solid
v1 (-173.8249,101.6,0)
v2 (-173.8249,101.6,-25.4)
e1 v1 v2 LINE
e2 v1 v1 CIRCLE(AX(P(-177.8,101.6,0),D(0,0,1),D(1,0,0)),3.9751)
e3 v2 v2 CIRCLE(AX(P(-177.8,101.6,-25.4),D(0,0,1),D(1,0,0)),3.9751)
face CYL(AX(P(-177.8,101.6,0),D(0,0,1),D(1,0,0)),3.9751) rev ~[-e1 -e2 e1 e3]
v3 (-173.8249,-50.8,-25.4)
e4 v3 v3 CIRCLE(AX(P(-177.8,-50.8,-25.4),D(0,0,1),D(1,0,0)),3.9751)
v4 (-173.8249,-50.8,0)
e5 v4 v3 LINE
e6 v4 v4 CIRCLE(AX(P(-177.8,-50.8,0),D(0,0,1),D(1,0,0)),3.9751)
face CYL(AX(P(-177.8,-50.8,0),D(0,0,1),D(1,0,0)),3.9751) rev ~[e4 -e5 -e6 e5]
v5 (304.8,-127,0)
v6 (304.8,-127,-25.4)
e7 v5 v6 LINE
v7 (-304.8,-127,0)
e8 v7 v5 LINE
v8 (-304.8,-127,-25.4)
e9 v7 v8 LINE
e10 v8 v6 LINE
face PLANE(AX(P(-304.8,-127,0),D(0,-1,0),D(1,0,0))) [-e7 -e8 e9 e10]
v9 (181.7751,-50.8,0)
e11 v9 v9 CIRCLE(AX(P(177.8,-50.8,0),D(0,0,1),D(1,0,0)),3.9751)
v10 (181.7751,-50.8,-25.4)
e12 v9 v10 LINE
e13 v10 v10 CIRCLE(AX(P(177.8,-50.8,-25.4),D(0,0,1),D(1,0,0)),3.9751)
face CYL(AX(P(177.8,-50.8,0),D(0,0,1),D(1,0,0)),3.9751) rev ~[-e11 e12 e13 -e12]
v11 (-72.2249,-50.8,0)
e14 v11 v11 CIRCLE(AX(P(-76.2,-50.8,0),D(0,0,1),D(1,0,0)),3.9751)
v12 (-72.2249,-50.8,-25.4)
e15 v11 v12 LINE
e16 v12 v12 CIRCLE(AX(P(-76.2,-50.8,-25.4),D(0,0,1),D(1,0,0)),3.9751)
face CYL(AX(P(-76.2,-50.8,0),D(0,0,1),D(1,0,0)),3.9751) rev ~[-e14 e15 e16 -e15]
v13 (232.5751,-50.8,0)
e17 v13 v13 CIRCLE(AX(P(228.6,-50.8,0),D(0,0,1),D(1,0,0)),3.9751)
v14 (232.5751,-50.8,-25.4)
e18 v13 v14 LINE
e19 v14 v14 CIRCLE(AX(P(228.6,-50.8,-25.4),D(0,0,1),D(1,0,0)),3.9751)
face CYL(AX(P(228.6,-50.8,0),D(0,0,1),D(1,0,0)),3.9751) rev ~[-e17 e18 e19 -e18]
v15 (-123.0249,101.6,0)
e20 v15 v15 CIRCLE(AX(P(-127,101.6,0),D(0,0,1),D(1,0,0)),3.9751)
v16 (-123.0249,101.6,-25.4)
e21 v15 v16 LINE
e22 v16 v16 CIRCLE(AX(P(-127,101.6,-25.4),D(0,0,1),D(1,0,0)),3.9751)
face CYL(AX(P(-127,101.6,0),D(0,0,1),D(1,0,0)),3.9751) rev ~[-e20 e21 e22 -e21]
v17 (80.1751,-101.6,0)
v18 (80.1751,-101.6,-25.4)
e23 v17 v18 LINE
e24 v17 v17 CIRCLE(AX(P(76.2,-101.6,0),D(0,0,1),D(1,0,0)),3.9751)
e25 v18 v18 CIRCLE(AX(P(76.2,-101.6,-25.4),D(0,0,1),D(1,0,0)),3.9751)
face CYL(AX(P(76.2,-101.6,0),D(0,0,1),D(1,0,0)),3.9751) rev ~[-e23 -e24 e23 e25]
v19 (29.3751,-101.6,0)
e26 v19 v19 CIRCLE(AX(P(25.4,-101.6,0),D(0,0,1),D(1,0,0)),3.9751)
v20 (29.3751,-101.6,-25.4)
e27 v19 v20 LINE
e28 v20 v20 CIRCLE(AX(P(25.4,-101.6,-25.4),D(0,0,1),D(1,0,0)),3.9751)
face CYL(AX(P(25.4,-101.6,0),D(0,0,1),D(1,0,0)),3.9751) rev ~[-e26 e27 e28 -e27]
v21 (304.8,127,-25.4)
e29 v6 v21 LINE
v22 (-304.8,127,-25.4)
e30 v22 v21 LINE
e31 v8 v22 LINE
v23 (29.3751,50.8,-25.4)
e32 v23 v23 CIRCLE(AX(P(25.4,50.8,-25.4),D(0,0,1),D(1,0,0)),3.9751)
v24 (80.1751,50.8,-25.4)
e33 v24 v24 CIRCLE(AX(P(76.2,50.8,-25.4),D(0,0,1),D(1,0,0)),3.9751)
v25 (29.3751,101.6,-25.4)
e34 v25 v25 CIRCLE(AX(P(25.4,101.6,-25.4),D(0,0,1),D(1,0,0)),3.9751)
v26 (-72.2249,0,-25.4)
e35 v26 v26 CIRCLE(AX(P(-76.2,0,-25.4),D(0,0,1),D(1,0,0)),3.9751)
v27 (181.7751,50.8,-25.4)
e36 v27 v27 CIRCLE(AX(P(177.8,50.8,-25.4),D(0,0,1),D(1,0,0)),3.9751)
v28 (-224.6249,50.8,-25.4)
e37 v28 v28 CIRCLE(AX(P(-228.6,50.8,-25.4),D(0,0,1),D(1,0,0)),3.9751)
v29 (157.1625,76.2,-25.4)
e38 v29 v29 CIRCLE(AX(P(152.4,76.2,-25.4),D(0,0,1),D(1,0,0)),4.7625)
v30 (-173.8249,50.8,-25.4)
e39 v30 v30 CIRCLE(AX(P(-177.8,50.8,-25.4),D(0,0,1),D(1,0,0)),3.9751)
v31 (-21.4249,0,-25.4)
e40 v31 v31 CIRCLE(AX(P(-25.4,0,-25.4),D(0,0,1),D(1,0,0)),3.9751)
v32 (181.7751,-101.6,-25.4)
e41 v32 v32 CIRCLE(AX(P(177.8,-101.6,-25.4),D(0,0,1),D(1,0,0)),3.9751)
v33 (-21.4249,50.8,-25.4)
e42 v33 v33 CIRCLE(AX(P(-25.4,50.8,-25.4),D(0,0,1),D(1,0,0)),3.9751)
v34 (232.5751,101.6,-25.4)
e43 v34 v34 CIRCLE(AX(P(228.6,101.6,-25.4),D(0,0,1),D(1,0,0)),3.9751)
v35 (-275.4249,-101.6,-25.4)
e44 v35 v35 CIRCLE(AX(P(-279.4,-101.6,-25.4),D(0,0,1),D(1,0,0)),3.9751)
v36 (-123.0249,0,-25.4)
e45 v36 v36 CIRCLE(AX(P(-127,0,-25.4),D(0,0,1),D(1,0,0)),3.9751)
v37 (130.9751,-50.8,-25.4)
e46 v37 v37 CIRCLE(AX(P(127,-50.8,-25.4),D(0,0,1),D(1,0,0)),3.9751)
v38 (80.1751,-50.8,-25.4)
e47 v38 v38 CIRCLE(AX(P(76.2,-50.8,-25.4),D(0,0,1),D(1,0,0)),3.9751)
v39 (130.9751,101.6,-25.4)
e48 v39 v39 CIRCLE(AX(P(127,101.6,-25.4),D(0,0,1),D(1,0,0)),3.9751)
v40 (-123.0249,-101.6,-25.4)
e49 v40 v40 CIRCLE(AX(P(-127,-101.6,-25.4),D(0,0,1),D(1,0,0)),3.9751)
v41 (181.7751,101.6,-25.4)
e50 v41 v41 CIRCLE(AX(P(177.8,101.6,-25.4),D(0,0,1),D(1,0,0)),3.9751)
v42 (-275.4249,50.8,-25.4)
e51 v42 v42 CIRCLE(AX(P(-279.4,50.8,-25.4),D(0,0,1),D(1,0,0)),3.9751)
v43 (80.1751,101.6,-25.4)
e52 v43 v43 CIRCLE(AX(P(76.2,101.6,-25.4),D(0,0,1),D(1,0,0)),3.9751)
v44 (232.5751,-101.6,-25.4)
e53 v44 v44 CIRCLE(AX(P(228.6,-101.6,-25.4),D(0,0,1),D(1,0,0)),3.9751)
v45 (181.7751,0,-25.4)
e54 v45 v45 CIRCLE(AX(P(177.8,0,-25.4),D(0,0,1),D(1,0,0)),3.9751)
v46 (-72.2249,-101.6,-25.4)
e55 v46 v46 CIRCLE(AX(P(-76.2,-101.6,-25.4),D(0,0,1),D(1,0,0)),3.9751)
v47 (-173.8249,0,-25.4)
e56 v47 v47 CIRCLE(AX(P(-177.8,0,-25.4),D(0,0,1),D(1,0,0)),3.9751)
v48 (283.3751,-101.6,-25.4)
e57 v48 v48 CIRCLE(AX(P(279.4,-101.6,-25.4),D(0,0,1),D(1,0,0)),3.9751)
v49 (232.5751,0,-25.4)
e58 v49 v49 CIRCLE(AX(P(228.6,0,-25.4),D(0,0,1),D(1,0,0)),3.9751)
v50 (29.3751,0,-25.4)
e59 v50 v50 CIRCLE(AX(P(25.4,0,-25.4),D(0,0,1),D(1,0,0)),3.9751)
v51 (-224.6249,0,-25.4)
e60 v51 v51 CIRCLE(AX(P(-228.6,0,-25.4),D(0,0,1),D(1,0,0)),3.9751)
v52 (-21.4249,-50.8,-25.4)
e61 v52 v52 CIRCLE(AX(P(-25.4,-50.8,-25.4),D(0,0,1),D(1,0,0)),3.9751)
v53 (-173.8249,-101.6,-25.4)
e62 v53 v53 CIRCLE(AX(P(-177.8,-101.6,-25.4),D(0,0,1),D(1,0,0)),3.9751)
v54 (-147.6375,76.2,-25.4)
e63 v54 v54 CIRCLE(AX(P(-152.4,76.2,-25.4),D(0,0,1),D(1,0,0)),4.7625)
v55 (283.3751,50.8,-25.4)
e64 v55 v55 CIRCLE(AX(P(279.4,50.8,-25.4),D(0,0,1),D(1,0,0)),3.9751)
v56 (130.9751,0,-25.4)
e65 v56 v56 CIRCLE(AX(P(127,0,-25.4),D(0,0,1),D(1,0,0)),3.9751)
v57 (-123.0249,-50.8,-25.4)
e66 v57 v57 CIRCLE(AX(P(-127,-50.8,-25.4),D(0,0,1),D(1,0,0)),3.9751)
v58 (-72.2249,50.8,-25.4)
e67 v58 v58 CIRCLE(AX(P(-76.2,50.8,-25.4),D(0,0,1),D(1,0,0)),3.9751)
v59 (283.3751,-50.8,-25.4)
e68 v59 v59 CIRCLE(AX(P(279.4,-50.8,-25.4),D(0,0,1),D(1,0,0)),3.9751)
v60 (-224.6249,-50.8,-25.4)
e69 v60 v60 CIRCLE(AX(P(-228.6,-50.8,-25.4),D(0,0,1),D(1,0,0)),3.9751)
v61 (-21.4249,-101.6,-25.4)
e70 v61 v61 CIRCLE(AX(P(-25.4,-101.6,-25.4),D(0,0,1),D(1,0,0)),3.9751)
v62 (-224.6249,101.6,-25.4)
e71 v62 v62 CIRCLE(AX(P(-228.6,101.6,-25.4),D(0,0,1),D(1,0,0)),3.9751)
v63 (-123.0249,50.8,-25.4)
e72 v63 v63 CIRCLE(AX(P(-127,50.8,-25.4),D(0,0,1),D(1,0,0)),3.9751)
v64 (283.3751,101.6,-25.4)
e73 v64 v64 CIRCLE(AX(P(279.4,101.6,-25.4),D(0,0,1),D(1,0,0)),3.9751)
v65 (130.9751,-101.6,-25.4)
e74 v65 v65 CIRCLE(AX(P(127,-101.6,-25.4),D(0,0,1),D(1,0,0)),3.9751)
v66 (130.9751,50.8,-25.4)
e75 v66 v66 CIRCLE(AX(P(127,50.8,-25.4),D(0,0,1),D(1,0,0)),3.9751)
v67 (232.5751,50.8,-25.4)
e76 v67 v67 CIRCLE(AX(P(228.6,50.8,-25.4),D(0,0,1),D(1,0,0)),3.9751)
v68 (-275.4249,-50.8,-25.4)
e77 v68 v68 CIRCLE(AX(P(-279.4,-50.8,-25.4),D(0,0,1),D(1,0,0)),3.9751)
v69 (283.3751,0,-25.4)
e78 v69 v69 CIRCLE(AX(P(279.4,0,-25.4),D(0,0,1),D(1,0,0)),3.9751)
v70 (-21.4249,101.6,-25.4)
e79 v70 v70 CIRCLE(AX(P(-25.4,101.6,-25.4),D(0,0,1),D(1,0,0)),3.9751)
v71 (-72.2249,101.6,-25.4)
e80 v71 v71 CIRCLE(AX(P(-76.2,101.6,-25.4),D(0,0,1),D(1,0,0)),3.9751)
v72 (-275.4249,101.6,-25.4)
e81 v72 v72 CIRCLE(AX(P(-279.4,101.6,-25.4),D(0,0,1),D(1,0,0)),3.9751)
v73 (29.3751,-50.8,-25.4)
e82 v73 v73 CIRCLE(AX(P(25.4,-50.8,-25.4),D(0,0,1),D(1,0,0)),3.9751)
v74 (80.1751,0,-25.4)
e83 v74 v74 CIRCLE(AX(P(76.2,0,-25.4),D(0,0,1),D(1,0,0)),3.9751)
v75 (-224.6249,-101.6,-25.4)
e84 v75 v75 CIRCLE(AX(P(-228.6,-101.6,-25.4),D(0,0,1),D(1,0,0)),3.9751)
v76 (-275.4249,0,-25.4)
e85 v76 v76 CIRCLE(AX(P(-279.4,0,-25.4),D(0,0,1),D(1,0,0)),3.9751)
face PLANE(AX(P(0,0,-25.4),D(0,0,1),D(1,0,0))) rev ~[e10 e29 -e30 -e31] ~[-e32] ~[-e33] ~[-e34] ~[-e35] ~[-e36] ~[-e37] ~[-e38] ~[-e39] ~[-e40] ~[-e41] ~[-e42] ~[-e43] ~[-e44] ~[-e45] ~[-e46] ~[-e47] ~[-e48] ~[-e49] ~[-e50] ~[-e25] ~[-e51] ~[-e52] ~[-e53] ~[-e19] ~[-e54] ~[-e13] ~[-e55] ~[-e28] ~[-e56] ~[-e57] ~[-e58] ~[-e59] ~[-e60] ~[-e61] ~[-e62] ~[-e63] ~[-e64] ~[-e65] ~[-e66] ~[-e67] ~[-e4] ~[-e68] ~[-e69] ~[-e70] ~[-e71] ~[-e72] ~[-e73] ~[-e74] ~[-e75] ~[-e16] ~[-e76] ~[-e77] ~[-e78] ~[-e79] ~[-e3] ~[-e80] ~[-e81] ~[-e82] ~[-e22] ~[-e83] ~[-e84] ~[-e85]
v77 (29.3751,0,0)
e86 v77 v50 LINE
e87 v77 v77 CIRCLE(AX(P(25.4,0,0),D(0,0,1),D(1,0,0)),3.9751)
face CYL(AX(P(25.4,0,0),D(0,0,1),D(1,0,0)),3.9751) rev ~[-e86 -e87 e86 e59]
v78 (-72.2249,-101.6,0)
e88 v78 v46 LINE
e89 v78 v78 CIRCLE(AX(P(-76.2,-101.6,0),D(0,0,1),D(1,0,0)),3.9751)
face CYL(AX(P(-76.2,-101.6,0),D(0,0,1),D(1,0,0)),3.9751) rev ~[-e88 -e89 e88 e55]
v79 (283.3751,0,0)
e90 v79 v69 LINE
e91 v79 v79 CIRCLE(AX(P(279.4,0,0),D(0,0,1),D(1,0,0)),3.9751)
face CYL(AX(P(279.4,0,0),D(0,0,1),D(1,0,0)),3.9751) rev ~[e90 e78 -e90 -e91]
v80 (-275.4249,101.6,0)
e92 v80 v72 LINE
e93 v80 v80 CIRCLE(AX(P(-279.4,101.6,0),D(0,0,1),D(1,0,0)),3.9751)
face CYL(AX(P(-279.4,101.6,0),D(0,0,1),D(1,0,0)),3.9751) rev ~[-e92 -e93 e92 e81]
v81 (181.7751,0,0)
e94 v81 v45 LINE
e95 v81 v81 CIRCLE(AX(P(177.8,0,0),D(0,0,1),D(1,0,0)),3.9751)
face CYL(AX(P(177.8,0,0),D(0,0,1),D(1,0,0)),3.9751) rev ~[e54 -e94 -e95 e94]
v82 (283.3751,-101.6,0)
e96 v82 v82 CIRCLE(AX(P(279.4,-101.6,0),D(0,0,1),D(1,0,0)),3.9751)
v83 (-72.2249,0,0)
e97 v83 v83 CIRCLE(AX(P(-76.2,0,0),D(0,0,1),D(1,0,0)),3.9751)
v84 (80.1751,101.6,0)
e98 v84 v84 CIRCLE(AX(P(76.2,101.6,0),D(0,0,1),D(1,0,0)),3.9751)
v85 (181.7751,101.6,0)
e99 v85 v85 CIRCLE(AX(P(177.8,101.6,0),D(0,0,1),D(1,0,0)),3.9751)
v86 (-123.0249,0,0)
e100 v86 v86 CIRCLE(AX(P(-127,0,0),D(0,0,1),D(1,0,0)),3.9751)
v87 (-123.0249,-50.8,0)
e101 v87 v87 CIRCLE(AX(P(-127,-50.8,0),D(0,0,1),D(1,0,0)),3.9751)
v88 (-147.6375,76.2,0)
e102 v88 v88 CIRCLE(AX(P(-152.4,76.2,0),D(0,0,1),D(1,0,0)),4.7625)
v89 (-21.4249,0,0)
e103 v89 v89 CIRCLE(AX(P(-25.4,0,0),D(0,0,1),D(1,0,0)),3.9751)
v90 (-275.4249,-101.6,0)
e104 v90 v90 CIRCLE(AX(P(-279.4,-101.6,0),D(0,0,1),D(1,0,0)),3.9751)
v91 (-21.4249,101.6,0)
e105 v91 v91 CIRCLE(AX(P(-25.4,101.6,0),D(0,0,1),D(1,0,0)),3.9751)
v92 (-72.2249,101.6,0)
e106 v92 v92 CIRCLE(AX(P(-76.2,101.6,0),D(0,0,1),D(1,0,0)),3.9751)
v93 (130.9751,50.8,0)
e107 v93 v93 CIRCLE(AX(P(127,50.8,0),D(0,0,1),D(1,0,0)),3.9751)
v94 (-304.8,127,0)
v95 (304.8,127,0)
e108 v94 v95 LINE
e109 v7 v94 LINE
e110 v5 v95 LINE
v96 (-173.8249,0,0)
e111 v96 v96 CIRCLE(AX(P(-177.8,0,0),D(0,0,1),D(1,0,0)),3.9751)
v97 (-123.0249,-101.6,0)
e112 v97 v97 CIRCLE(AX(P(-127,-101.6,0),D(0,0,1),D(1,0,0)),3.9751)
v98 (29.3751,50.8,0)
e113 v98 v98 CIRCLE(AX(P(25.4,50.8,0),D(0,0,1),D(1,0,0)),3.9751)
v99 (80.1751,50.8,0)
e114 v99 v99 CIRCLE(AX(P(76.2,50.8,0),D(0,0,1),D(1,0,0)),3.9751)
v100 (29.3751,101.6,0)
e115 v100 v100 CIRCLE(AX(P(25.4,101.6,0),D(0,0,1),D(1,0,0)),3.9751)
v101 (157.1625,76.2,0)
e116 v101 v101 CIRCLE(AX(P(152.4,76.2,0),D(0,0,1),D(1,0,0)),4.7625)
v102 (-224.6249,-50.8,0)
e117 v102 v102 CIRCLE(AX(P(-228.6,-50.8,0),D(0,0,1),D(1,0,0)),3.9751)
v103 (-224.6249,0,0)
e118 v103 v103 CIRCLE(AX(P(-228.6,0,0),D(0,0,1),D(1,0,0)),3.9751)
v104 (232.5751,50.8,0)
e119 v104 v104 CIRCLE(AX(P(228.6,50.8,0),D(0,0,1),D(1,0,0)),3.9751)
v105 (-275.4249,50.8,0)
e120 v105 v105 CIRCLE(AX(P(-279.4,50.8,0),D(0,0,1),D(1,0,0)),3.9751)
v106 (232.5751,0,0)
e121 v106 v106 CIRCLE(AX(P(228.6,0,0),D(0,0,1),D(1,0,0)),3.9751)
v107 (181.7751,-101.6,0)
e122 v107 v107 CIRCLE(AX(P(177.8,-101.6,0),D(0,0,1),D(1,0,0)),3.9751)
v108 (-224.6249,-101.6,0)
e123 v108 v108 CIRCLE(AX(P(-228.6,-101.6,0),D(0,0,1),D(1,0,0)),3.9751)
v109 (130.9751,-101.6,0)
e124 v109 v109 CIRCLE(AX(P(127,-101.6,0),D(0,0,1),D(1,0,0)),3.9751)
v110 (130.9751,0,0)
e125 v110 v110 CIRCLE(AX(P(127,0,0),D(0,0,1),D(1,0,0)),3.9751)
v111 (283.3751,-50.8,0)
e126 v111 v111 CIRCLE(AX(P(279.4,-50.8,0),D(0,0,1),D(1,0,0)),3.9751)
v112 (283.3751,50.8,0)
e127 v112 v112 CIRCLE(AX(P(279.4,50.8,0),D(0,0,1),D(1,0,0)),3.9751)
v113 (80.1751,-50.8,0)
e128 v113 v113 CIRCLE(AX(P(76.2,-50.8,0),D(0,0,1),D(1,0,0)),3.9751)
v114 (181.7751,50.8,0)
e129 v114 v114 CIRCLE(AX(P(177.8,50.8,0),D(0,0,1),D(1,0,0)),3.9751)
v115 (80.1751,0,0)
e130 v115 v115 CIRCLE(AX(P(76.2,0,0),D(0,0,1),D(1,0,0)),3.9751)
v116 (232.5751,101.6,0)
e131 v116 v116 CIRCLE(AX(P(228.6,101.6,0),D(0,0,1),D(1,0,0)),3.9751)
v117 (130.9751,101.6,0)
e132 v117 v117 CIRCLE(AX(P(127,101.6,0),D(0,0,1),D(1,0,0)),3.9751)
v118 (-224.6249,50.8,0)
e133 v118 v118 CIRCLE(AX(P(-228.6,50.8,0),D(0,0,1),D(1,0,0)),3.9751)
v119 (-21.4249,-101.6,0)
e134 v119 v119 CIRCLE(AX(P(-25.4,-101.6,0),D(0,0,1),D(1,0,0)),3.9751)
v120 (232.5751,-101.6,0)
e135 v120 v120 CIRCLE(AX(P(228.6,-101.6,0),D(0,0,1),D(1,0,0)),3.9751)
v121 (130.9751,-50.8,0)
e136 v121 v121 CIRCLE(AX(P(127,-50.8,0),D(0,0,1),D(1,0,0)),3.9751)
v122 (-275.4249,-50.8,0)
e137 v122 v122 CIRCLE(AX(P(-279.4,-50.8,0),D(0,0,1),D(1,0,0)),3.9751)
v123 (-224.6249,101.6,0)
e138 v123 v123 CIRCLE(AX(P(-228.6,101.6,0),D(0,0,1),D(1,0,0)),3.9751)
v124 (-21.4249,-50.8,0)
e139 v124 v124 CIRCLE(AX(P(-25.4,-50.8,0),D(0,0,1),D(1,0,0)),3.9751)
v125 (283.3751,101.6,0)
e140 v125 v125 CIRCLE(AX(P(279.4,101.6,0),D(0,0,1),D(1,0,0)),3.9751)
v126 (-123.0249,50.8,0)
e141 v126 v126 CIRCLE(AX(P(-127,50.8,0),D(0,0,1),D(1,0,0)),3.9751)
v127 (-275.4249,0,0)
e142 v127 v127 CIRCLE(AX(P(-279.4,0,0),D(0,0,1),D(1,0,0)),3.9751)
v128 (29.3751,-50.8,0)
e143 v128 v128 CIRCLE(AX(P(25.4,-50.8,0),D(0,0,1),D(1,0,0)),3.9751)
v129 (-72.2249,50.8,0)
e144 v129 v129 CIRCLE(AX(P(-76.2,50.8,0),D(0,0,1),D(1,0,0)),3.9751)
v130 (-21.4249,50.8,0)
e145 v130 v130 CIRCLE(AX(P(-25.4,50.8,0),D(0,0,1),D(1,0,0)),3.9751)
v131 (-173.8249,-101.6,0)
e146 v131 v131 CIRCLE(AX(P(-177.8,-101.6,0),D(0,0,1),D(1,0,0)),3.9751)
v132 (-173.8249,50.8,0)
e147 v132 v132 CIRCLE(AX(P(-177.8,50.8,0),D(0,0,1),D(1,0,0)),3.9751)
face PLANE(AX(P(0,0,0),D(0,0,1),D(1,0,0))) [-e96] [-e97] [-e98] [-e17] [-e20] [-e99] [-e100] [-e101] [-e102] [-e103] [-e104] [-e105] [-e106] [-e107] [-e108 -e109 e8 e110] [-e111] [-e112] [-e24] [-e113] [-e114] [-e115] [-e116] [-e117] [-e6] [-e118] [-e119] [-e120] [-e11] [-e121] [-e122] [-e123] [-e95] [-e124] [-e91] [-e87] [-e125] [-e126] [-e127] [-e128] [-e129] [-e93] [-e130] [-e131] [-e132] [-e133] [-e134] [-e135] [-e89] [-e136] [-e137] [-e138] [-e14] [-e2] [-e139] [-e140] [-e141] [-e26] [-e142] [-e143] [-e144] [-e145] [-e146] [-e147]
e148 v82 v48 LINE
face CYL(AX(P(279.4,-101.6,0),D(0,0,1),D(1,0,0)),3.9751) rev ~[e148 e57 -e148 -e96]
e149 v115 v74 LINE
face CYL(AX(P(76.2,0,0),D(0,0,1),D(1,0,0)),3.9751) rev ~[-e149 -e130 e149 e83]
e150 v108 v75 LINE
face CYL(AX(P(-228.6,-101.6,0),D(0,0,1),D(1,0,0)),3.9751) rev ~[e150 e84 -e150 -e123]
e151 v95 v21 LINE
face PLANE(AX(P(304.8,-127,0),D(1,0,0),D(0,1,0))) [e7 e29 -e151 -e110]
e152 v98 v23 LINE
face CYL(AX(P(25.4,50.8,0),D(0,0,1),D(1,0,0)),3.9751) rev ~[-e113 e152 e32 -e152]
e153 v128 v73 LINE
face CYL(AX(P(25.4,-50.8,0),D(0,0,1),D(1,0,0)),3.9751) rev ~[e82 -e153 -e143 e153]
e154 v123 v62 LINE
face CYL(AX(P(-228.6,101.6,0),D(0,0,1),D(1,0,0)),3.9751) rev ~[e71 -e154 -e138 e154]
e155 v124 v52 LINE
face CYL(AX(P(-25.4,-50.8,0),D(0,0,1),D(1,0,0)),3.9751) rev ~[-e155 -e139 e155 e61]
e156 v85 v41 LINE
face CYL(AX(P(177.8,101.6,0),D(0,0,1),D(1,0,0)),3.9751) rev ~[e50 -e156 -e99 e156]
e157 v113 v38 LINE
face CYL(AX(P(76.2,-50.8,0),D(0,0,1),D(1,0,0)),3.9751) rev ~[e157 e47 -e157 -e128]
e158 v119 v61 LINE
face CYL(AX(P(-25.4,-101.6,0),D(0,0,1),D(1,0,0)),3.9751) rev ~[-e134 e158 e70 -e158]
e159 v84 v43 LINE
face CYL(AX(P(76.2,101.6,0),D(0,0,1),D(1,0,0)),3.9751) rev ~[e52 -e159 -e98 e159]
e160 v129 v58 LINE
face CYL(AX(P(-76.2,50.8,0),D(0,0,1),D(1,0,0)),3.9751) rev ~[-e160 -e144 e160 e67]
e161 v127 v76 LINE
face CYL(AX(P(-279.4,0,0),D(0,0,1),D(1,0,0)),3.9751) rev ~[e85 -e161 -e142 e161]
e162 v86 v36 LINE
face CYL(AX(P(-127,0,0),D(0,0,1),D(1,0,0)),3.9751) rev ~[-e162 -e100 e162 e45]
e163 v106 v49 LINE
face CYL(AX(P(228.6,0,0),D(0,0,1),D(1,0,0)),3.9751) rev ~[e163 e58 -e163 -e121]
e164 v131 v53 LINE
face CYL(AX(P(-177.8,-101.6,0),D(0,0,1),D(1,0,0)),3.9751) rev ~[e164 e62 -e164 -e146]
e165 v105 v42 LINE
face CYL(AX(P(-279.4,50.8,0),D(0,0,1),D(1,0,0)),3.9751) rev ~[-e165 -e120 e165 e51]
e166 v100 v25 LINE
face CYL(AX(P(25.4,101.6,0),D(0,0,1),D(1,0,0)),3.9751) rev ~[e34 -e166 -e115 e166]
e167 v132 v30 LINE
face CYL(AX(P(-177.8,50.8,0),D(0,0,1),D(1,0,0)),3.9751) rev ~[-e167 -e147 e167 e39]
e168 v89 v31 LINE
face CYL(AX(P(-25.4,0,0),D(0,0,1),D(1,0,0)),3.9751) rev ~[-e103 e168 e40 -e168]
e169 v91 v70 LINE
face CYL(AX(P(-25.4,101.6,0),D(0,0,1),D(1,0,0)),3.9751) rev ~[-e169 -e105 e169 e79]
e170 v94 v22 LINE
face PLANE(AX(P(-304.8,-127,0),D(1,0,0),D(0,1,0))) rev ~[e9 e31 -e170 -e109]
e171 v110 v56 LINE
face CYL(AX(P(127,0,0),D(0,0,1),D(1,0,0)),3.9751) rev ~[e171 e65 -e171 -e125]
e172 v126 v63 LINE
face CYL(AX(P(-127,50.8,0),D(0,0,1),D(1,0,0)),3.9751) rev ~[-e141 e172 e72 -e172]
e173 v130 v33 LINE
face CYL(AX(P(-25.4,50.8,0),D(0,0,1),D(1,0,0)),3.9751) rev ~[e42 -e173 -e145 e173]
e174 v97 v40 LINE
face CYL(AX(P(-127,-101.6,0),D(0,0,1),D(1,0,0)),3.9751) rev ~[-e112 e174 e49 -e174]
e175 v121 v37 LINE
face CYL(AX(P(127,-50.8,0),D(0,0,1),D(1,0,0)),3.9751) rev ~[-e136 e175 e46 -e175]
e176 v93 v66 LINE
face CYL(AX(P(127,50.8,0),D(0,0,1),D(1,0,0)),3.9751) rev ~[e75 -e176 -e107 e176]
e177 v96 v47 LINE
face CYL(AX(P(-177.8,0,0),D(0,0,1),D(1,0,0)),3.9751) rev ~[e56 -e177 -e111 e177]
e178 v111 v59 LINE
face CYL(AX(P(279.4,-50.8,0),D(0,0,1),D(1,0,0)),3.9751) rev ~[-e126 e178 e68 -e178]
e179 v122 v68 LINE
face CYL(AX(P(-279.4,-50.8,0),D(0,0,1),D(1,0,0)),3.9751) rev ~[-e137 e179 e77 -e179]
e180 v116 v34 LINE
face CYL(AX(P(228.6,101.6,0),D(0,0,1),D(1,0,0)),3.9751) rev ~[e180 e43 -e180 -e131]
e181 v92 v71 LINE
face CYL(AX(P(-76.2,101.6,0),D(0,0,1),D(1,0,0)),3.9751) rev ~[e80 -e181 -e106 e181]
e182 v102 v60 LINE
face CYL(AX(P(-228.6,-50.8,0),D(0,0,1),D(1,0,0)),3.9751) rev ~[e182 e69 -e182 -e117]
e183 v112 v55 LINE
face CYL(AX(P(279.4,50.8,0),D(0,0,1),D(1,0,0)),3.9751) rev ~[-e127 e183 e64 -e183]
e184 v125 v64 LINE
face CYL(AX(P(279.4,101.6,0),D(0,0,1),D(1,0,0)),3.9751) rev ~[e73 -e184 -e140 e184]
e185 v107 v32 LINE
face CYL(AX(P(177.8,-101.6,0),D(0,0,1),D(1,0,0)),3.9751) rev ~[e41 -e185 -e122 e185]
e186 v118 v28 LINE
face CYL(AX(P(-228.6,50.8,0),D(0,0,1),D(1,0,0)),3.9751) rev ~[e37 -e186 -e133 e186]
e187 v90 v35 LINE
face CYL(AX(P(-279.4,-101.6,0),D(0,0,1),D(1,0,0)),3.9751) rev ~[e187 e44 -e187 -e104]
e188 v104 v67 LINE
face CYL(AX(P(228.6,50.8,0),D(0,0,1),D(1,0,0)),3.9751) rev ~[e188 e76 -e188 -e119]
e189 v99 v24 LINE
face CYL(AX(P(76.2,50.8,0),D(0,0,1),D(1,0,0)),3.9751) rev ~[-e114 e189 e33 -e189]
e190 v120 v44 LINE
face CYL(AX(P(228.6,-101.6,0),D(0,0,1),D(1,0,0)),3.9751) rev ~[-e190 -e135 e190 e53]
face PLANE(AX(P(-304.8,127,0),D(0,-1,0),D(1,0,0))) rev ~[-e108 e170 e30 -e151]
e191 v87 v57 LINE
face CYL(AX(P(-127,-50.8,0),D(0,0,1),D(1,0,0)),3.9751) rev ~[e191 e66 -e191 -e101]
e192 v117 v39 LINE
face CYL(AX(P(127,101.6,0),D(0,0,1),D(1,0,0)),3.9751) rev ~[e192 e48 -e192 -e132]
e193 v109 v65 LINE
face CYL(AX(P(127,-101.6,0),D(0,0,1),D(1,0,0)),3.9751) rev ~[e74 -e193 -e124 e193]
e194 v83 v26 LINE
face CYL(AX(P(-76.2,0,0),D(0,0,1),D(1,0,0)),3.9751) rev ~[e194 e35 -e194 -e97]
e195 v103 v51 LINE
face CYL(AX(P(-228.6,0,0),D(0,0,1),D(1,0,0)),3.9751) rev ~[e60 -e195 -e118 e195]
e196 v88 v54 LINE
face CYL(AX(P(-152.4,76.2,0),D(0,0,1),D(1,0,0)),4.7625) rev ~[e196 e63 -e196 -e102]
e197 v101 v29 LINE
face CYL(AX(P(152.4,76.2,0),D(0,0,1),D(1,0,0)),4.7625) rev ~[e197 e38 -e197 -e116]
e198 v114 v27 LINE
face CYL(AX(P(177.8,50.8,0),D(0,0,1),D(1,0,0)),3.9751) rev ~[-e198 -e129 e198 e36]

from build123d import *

# Parameters (mm, degrees)
F0_W     = 609.6
F0_H     = 254
F0_R     = 3.9751
F0_R_2   = 4.7625
F1_DEPTH = 25.4


with BuildPart() as f1:
    # F0 (on Top) → F1 (new body)
    with BuildSketch(Plane.XY):
        Rectangle(F0_W, F0_H)
        with Locations((-279.4, -101.6)):
            Circle(F0_R, mode=Mode.SUBTRACT)
        with Locations((-228.6, -101.6)):
            Circle(F0_R, mode=Mode.SUBTRACT)
        with Locations((-177.8, -101.6)):
            Circle(F0_R, mode=Mode.SUBTRACT)
        with Locations((-127, -101.6)):
            Circle(F0_R, mode=Mode.SUBTRACT)
        with Locations((-76.2, -101.6)):
            Circle(F0_R, mode=Mode.SUBTRACT)
        with Locations((-25.4, -101.6)):
            Circle(F0_R, mode=Mode.SUBTRACT)
        with Locations((-279.4, -50.8)):
            Circle(F0_R, mode=Mode.SUBTRACT)
        with Locations((-228.6, -50.8)):
            Circle(F0_R, mode=Mode.SUBTRACT)
        with Locations((-177.8, -50.8)):
            Circle(F0_R, mode=Mode.SUBTRACT)
        with Locations((-127, -50.8)):
            Circle(F0_R, mode=Mode.SUBTRACT)
        with Locations((-76.2, -50.8)):
            Circle(F0_R, mode=Mode.SUBTRACT)
        with Locations((-25.4, -50.8)):
            Circle(F0_R, mode=Mode.SUBTRACT)
        with Locations((25.4, -101.6)):
            Circle(F0_R, mode=Mode.SUBTRACT)
        with Locations((76.2, -101.6)):
            Circle(F0_R, mode=Mode.SUBTRACT)
        with Locations((127, -101.6)):
            Circle(F0_R, mode=Mode.SUBTRACT)
        with Locations((177.8, -101.6)):
            Circle(F0_R, mode=Mode.SUBTRACT)
        with Locations((228.6, -101.6)):
            Circle(F0_R, mode=Mode.SUBTRACT)
        with Locations((279.4, -101.6)):
            Circle(F0_R, mode=Mode.SUBTRACT)
        with Locations((25.4, -50.8)):
            Circle(F0_R, mode=Mode.SUBTRACT)
        with Locations((76.2, -50.8)):
            Circle(F0_R, mode=Mode.SUBTRACT)
        with Locations((127, -50.8)):
            Circle(F0_R, mode=Mode.SUBTRACT)
        with Locations((177.8, -50.8)):
            Circle(F0_R, mode=Mode.SUBTRACT)
        with Locations((228.6, -50.8)):
            Circle(F0_R, mode=Mode.SUBTRACT)
        with Locations((279.4, -50.8)):
            Circle(F0_R, mode=Mode.SUBTRACT)
        with Locations((-279.4, 0)):
            Circle(F0_R, mode=Mode.SUBTRACT)
        with Locations((-228.6, 0)):
            Circle(F0_R, mode=Mode.SUBTRACT)
        with Locations((-177.8, 0)):
            Circle(F0_R, mode=Mode.SUBTRACT)
        with Locations((-279.4, 50.8)):
            Circle(F0_R, mode=Mode.SUBTRACT)
        with Locations((-228.6, 50.8)):
            Circle(F0_R, mode=Mode.SUBTRACT)
        with Locations((-177.8, 50.8)):
            Circle(F0_R, mode=Mode.SUBTRACT)
        with Locations((-127, 0)):
            Circle(F0_R, mode=Mode.SUBTRACT)
        with Locations((-76.2, 0)):
            Circle(F0_R, mode=Mode.SUBTRACT)
        with Locations((-25.4, 0)):
            Circle(F0_R, mode=Mode.SUBTRACT)
        with Locations((-127, 50.8)):
            Circle(F0_R, mode=Mode.SUBTRACT)
        with Locations((-76.2, 50.8)):
            Circle(F0_R, mode=Mode.SUBTRACT)
        with Locations((-25.4, 50.8)):
            Circle(F0_R, mode=Mode.SUBTRACT)
        with Locations((-279.4, 101.6)):
            Circle(F0_R, mode=Mode.SUBTRACT)
        with Locations((-228.6, 101.6)):
            Circle(F0_R, mode=Mode.SUBTRACT)
        with Locations((-177.8, 101.6)):
            Circle(F0_R, mode=Mode.SUBTRACT)
        with Locations((-152.4, 76.2)):
            Circle(F0_R_2, mode=Mode.SUBTRACT)
        with Locations((-127, 101.6)):
            Circle(F0_R, mode=Mode.SUBTRACT)
        with Locations((-76.2, 101.6)):
            Circle(F0_R, mode=Mode.SUBTRACT)
        with Locations((-25.4, 101.6)):
            Circle(F0_R, mode=Mode.SUBTRACT)
        with Locations((25.4, 0)):
            Circle(F0_R, mode=Mode.SUBTRACT)
        with Locations((76.2, 0)):
            Circle(F0_R, mode=Mode.SUBTRACT)
        with Locations((127, 0)):
            Circle(F0_R, mode=Mode.SUBTRACT)
        with Locations((25.4, 50.8)):
            Circle(F0_R, mode=Mode.SUBTRACT)
        with Locations((76.2, 50.8)):
            Circle(F0_R, mode=Mode.SUBTRACT)
        with Locations((127, 50.8)):
            Circle(F0_R, mode=Mode.SUBTRACT)
        with Locations((177.8, 0)):
            Circle(F0_R, mode=Mode.SUBTRACT)
        with Locations((228.6, 0)):
            Circle(F0_R, mode=Mode.SUBTRACT)
        with Locations((279.4, 0)):
            Circle(F0_R, mode=Mode.SUBTRACT)
        with Locations((177.8, 50.8)):
            Circle(F0_R, mode=Mode.SUBTRACT)
        with Locations((228.6, 50.8)):
            Circle(F0_R, mode=Mode.SUBTRACT)
        with Locations((279.4, 50.8)):
            Circle(F0_R, mode=Mode.SUBTRACT)
        with Locations((25.4, 101.6)):
            Circle(F0_R, mode=Mode.SUBTRACT)
        with Locations((76.2, 101.6)):
            Circle(F0_R, mode=Mode.SUBTRACT)
        with Locations((127, 101.6)):
            Circle(F0_R, mode=Mode.SUBTRACT)
        with Locations((152.4, 76.2)):
            Circle(F0_R_2, mode=Mode.SUBTRACT)
        with Locations((177.8, 101.6)):
            Circle(F0_R, mode=Mode.SUBTRACT)
        with Locations((228.6, 101.6)):
            Circle(F0_R, mode=Mode.SUBTRACT)
        with Locations((279.4, 101.6)):
            Circle(F0_R, mode=Mode.SUBTRACT)
    extrude(amount=-F1_DEPTH)


solid = f1.part
